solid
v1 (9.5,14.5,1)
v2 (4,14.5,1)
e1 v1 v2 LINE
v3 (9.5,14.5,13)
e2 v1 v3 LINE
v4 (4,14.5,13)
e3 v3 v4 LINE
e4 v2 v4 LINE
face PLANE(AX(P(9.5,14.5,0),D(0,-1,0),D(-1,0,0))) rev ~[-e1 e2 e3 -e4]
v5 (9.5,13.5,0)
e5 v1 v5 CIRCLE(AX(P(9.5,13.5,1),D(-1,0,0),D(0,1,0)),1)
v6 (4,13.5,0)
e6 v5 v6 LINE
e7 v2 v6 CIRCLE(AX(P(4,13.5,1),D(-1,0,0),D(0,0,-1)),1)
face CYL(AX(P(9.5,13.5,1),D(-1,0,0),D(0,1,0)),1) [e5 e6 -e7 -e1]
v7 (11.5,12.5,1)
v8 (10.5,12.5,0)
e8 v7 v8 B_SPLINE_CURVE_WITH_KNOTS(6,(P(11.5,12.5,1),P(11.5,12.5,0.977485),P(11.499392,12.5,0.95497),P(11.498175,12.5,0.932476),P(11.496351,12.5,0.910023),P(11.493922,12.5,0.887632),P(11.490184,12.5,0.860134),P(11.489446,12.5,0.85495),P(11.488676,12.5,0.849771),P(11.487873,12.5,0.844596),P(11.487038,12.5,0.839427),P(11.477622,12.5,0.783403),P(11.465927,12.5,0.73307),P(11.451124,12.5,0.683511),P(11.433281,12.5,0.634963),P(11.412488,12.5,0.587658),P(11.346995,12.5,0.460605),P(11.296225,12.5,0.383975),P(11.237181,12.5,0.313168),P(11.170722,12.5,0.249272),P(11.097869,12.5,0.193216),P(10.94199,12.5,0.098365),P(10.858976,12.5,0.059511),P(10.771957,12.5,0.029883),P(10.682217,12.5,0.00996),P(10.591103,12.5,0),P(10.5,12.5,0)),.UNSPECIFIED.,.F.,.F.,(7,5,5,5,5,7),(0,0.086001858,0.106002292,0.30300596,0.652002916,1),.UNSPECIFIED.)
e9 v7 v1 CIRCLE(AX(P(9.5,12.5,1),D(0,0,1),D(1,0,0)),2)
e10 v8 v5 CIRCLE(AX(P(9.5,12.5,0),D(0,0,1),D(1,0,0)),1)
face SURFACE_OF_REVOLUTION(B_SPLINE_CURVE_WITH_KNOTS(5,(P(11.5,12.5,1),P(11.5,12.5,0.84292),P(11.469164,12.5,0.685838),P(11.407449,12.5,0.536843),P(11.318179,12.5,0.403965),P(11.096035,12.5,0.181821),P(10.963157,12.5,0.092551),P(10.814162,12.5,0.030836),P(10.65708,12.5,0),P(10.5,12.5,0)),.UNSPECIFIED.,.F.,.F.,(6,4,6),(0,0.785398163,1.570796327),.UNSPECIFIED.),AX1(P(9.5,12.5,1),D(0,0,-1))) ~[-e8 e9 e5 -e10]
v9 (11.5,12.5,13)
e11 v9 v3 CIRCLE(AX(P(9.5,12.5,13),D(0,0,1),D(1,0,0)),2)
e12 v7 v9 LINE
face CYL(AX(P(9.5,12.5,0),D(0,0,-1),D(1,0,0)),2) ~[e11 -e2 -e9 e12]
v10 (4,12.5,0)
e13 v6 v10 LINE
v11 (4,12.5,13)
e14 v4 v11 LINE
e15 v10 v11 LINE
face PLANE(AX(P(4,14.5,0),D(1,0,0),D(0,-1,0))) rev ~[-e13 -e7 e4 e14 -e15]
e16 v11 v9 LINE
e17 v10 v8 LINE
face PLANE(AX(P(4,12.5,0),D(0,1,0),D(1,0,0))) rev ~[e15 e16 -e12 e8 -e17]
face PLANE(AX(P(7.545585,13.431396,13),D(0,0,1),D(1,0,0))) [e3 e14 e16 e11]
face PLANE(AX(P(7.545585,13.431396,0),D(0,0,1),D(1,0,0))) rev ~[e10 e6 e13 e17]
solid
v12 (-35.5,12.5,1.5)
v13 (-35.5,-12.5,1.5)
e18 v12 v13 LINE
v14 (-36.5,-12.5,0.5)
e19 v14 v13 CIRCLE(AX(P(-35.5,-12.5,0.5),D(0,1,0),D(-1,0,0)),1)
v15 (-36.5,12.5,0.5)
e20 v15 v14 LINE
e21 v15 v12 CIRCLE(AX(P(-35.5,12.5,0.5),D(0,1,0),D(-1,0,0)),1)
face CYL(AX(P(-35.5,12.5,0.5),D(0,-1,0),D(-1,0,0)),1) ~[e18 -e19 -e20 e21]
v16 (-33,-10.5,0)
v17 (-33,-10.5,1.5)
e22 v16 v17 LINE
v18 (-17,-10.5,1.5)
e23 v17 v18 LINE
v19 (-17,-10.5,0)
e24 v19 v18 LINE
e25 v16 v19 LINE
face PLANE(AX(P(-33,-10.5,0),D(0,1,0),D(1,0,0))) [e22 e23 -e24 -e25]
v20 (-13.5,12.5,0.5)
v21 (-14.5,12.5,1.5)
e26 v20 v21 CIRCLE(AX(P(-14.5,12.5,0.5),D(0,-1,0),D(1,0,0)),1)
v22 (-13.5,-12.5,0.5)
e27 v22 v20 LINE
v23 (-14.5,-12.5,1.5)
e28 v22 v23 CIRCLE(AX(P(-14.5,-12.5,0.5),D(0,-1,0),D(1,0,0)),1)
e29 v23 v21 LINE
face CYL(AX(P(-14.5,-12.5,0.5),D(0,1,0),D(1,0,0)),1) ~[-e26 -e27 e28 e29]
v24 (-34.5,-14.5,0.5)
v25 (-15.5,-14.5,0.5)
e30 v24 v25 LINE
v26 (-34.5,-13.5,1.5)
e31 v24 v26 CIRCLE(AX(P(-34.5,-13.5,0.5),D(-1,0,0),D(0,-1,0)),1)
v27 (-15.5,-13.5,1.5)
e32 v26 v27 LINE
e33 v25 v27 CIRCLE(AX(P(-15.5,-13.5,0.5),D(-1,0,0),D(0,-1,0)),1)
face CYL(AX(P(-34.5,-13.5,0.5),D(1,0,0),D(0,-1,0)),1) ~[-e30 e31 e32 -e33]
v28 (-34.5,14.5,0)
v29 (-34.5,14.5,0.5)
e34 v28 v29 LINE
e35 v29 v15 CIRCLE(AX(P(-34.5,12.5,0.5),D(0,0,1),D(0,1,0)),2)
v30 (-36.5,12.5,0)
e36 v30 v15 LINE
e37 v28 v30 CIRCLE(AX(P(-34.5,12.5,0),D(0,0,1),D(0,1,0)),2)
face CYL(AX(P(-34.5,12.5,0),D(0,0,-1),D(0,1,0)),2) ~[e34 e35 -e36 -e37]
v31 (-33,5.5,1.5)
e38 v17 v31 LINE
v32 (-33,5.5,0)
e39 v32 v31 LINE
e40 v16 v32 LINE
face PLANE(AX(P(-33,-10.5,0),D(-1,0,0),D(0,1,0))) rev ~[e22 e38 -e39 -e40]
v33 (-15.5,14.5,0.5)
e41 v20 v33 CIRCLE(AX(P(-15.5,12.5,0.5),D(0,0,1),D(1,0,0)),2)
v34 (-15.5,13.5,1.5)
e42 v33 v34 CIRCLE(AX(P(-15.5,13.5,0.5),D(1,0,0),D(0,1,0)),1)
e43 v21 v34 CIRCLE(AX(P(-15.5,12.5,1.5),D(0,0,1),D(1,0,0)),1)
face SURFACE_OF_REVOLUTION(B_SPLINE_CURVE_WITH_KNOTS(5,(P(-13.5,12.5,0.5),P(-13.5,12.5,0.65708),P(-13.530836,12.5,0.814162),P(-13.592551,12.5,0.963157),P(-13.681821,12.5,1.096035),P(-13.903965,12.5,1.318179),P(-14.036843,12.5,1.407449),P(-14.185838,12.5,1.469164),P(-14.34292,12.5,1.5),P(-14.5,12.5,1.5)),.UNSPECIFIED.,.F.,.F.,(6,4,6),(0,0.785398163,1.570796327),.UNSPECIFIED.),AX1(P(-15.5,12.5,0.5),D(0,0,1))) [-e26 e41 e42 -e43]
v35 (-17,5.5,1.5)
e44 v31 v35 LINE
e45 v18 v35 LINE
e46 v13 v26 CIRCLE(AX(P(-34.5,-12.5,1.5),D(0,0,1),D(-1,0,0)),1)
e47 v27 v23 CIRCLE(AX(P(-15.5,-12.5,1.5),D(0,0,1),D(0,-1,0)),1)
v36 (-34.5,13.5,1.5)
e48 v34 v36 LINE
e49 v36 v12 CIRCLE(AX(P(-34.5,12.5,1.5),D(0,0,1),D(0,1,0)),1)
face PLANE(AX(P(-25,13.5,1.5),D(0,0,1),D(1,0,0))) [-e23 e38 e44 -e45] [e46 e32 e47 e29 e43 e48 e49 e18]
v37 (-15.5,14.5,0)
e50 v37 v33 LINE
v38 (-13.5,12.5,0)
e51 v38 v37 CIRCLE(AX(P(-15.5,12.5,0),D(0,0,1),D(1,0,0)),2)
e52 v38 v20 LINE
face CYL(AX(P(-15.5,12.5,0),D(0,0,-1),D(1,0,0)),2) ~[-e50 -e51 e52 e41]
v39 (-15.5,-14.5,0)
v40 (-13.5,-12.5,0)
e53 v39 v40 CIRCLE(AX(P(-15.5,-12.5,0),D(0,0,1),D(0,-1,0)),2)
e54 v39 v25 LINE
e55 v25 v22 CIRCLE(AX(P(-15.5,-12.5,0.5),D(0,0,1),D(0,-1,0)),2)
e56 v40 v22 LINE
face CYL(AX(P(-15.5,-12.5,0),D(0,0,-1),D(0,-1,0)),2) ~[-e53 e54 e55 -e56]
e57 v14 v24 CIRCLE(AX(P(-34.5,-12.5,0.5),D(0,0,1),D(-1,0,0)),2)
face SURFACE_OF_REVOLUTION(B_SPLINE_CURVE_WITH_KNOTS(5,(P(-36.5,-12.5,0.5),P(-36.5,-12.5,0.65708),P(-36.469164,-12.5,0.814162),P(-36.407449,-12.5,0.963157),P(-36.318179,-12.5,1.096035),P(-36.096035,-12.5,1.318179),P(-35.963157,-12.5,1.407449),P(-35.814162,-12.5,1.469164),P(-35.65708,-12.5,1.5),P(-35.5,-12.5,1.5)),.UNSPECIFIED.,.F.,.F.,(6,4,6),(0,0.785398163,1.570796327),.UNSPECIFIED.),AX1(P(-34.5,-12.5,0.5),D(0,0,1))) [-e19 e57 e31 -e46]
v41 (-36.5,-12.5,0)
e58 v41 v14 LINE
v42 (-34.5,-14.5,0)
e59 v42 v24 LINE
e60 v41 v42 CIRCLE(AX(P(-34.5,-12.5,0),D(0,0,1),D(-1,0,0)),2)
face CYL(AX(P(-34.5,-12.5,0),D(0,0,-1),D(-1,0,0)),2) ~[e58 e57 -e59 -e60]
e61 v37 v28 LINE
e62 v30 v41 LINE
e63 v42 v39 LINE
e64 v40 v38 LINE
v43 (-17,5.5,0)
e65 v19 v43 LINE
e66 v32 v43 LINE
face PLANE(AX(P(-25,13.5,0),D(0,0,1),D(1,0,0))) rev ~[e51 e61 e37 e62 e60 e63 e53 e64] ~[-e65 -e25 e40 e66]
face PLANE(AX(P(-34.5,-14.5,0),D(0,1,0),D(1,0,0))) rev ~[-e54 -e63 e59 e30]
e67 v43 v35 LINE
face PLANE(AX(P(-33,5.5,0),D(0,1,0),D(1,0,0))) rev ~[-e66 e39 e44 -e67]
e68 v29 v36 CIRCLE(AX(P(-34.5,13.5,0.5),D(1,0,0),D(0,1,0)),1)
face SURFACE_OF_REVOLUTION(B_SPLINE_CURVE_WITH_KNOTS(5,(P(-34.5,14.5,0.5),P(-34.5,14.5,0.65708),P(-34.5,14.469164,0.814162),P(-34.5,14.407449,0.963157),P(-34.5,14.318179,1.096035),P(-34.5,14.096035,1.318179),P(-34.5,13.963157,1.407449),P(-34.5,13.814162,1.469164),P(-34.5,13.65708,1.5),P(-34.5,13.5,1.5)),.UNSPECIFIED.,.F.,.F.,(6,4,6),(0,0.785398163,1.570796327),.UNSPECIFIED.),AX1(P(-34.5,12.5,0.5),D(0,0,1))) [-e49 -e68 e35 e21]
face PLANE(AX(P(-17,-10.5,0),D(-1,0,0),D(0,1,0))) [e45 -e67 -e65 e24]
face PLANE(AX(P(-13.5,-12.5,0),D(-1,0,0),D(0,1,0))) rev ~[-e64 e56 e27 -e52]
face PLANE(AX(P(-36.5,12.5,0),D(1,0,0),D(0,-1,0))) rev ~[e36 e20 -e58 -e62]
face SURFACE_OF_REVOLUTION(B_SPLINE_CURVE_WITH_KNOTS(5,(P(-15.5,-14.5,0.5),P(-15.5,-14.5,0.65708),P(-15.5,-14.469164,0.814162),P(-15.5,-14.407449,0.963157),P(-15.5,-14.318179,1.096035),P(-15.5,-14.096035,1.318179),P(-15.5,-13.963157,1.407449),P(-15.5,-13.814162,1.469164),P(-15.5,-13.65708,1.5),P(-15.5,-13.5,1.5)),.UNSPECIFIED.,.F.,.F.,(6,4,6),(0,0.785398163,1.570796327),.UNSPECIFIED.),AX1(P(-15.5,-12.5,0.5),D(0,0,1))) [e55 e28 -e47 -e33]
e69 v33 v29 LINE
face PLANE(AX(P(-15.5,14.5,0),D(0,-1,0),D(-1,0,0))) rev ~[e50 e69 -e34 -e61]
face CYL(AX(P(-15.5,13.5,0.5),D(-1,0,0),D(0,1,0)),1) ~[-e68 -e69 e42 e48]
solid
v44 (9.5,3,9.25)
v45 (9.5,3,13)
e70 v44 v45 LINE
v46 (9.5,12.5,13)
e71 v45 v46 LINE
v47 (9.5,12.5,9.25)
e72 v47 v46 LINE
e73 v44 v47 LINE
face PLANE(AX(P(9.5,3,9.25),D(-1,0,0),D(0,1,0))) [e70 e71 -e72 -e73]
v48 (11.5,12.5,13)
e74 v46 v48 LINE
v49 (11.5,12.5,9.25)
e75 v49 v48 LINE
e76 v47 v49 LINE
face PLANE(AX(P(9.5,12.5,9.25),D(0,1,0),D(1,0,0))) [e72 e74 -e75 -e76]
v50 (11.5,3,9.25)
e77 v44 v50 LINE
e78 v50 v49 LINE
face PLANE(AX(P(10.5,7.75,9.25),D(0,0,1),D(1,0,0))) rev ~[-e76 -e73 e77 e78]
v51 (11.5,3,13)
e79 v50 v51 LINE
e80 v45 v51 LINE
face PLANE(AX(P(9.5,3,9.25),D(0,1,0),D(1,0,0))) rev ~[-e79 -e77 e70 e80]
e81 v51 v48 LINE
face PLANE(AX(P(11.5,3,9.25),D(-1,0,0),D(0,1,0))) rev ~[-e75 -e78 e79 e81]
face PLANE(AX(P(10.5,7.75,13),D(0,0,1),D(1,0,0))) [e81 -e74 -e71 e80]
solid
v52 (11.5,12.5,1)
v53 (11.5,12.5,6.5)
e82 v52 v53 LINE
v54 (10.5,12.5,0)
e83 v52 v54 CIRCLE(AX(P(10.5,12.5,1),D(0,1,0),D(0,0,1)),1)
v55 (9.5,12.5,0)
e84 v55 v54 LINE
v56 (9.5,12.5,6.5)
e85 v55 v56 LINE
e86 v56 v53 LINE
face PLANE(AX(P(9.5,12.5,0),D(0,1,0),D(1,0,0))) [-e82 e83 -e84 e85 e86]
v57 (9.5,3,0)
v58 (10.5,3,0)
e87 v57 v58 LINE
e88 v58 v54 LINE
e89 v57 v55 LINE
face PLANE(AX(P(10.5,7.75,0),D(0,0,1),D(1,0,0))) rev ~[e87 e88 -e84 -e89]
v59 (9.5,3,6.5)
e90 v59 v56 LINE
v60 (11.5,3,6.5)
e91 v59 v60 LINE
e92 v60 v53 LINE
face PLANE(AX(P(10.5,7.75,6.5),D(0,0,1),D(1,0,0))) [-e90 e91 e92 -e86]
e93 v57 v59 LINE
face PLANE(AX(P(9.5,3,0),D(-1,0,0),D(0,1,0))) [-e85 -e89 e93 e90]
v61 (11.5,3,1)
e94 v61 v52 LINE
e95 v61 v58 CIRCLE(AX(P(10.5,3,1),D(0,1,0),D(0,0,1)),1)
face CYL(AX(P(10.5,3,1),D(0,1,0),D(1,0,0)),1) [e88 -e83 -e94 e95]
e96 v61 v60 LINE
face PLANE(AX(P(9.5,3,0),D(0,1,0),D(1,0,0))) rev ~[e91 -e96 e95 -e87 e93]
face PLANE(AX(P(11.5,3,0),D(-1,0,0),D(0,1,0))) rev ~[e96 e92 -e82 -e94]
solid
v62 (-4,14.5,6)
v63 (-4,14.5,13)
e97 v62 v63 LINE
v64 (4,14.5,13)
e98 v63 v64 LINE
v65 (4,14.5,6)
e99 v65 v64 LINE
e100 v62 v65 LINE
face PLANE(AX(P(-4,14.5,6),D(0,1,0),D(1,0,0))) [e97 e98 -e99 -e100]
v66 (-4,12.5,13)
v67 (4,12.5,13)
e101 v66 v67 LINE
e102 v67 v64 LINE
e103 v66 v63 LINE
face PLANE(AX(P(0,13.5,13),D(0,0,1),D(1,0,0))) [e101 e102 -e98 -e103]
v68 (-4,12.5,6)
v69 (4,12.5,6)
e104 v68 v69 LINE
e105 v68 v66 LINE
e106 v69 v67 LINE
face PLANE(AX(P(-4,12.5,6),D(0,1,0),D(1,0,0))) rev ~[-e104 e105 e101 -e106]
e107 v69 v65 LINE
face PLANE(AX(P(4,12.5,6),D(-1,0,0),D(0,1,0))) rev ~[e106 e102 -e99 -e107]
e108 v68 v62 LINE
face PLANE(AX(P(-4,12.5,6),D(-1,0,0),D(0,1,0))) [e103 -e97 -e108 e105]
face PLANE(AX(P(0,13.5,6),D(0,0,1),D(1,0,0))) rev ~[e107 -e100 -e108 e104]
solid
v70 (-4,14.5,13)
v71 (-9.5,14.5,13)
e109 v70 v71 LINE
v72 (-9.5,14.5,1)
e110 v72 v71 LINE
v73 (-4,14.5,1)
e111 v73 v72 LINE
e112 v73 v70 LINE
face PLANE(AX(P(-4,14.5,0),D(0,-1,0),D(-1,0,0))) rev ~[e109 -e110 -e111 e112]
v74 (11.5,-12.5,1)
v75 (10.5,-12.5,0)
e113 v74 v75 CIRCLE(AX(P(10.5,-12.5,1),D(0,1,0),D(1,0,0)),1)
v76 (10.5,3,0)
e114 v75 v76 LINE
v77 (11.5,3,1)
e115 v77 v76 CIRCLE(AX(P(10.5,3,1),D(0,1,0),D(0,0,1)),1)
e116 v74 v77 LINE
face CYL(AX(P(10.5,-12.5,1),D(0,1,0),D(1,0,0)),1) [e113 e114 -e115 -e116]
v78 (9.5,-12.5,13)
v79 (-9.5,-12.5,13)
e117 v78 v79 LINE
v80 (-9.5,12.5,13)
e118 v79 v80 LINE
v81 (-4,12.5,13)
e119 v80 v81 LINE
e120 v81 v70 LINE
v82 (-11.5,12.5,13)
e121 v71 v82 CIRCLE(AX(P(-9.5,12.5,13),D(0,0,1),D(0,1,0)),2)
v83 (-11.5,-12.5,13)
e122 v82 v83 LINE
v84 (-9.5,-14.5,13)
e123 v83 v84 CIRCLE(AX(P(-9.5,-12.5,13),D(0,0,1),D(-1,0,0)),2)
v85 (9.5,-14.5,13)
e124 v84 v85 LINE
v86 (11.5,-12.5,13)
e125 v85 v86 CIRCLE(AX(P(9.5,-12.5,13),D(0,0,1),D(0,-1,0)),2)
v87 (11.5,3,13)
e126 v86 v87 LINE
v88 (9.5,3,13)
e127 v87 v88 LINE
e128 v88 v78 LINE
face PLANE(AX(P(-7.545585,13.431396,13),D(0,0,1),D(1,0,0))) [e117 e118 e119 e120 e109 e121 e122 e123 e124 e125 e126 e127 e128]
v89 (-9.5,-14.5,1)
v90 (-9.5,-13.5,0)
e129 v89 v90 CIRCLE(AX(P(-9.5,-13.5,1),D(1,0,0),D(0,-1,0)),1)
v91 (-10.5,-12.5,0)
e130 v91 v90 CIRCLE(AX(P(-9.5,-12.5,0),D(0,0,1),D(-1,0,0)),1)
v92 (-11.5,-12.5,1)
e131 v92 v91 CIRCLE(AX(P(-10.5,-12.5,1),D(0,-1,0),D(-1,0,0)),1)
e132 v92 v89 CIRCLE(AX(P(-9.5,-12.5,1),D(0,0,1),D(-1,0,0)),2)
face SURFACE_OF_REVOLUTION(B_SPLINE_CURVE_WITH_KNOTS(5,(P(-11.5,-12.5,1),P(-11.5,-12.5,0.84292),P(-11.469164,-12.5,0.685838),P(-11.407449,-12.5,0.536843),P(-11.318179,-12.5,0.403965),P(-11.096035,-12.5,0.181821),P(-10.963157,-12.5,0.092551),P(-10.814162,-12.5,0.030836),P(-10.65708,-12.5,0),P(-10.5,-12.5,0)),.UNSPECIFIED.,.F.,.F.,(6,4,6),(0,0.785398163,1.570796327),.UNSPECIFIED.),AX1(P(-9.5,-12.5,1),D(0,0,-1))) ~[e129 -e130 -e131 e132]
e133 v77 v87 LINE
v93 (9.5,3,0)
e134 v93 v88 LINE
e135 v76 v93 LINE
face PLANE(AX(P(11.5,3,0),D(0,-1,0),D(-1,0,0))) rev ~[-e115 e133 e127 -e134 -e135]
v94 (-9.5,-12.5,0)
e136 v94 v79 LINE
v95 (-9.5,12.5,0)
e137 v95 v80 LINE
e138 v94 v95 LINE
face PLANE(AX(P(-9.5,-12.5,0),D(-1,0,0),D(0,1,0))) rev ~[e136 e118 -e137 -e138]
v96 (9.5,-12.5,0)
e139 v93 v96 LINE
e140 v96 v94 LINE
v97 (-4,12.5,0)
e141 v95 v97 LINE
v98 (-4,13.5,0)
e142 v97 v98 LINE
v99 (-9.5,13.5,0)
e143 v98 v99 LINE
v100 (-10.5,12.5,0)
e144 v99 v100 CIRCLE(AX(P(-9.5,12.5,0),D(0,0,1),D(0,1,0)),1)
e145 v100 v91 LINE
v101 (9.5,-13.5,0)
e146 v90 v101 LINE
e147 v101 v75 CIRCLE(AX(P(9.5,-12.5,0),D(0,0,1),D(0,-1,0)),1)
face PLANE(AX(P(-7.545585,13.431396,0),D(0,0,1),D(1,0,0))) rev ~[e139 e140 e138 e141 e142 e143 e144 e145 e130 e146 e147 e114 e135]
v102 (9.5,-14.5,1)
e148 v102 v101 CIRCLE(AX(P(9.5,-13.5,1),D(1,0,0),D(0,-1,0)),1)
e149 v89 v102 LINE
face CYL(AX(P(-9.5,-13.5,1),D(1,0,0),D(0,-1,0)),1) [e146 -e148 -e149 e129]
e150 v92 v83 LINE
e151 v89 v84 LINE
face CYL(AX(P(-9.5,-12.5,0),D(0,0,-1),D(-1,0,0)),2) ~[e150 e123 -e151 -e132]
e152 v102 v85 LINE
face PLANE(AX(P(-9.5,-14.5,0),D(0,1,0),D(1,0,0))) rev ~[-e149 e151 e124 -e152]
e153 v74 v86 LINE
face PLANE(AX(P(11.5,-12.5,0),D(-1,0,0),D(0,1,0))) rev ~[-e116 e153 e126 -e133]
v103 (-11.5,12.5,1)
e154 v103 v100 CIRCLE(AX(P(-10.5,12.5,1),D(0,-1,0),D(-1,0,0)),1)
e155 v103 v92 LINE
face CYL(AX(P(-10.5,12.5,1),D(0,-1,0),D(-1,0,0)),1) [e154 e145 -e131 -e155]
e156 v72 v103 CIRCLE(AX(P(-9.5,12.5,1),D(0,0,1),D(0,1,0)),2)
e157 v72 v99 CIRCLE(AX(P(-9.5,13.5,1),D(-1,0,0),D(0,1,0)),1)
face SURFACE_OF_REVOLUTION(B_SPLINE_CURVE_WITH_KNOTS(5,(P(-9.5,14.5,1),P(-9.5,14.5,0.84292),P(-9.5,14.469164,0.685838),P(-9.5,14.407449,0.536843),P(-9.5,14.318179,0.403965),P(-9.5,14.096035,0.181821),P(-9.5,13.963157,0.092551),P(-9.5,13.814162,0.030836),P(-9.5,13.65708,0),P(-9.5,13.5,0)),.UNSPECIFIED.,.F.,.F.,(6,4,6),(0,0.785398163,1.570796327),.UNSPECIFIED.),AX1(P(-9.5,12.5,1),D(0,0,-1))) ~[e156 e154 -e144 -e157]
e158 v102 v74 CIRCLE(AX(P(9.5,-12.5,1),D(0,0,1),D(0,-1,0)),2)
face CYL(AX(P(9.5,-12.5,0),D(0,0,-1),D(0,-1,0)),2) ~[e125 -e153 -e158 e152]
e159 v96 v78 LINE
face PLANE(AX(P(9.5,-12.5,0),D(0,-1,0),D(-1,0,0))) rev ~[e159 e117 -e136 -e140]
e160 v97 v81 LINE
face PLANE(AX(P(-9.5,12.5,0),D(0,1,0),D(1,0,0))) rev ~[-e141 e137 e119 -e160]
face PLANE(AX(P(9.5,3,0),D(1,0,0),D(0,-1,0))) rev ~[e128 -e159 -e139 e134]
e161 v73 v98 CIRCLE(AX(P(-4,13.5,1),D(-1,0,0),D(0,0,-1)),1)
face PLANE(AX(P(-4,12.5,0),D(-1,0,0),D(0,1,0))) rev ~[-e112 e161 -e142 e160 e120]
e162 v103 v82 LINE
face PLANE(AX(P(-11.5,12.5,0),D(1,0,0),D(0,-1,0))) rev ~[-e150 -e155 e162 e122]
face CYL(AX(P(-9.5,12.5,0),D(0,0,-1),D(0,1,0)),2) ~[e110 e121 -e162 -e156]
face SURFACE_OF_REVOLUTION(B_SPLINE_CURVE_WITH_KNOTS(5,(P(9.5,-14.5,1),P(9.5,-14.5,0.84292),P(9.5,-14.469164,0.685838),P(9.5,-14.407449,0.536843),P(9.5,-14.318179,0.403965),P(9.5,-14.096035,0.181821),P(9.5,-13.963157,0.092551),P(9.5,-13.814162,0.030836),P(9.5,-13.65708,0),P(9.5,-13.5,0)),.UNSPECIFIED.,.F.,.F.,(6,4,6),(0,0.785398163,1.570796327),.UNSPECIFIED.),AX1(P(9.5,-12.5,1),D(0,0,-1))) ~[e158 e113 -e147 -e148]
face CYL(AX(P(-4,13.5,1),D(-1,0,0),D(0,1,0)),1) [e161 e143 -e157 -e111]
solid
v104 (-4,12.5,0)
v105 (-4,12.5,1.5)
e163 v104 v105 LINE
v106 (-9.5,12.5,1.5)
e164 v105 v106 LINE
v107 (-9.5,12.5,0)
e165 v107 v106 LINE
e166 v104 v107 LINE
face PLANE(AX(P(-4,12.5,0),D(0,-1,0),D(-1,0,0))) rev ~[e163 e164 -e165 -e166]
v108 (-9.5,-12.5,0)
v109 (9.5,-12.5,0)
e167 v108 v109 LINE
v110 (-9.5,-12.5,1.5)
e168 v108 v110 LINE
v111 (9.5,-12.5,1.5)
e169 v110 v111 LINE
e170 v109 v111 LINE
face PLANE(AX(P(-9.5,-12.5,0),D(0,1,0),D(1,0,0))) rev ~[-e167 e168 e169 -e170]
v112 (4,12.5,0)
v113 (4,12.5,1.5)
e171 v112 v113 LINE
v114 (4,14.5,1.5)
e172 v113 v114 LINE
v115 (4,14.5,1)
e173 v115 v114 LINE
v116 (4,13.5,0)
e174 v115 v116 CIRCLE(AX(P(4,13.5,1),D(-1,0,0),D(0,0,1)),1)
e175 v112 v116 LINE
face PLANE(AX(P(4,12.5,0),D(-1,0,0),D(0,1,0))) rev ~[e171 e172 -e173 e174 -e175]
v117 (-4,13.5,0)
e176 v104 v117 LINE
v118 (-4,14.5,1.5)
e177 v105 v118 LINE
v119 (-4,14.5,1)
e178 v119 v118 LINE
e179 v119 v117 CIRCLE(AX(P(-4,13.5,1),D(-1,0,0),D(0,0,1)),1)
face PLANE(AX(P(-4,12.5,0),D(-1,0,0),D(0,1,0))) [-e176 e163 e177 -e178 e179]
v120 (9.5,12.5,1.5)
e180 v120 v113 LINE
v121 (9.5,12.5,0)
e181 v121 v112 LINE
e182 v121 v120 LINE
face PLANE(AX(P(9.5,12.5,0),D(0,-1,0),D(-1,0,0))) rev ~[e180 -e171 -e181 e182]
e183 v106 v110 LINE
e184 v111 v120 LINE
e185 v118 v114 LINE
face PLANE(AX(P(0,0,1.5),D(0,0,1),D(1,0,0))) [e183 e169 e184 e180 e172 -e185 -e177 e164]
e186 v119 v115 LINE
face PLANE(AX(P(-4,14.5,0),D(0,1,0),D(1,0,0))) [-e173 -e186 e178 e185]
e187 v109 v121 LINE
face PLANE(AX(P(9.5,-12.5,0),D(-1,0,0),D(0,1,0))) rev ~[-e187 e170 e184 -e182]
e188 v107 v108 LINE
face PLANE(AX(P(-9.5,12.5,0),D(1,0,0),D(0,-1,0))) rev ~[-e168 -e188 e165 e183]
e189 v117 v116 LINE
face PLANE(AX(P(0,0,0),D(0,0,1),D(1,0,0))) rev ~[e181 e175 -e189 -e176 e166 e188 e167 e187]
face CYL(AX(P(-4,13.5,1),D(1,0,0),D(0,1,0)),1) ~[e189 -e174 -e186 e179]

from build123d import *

# Parameters (mm, degrees)
F0_W      = 2
F0_H      = 9.5
F0_W_2    = 15
F0_H_2    = 2
F2_DEPTH  = 13
F3_W      = 8
F3_H      = 2
F4_DEPTH  = 1.5
F5_W      = 2
F5_H      = 9.5
F6_DEPTH  = 6.5
F8_START  = 6
F7_W      = 8
F7_H      = 2
F8_DEPTH  = 7
F10_START = 9.25
F9_W      = 2
F9_H      = 9.5
F10_DEPTH = 3.75
F11_R     = 1
F11_2_R   = 1
F11_3_R   = 1
F11_4_R   = 1
F1_W      = 8
F1_H      = 2
F1_W_2    = 2
F1_H_2    = 9.5
F1_W_3    = 15
F1_W_4    = 16
F1_H_3    = 16
F12_DEPTH = 1.5
F13_R     = 1


with BuildPart() as f2:
    # F0 (on Top) → F2 (new body)
    with BuildSketch(Plane.XY):
        with BuildLine():
            Line((-9.5, 12.5), (-4, 12.5))
            Line((-4, 12.5), (-4, 14.5))
            Line((-4, 14.5), (-9.5, 14.5))
            ThreePointArc((-9.5, 14.5), (-10.9142135624, 13.9142135624), (-11.5, 12.5))
            Line((-11.5, 12.5), (-9.5, 12.5))
        make_face()
        with Locations((-10.5, 7.75)):
            Rectangle(F0_W, F0_H)
        with BuildLine():
            Line((-7.5, -14.5), (-7.5, -12.5))
            Line((-7.5, -12.5), (-9.5, -12.5))
            Line((-9.5, -12.5), (-9.5, 3))
            Line((-9.5, 3), (-11.5, 3))
            Line((-11.5, 3), (-11.5, -12.5))
            ThreePointArc((-11.5, -12.5), (-10.9142135624, -13.9142135624), (-9.5, -14.5))
            Line((-9.5, -14.5), (-7.5, -14.5))
        make_face()
        with Locations((0, -13.5)):
            Rectangle(F0_W_2, F0_H_2)
        with BuildLine():
            Line((9.5, 3), (9.5, -12.5))
            Line((9.5, -12.5), (7.5, -12.5))
            Line((7.5, -12.5), (7.5, -14.5))
            Line((7.5, -14.5), (9.5, -14.5))
            ThreePointArc((9.5, -14.5), (10.9142135624, -13.9142135624), (11.5, -12.5))
            Line((11.5, -12.5), (11.5, 3))
            Line((11.5, 3), (9.5, 3))
        make_face()
    extrude(amount=F2_DEPTH)

    # F11
    f11_edges = [f2.edges().sort_by_distance(p)[0] for p in [
        (0, -14.5, 0),
    ]]
    fillet(f11_edges, radius=F11_R)


with BuildPart() as f2b:
    # F0 (on Top) → F2, piece 2 (new body)
    with BuildSketch(Plane.XY):
        with BuildLine():
            Line((4, 12.5), (9.5, 12.5))
            Line((9.5, 12.5), (11.5, 12.5))
            ThreePointArc((11.5, 12.5), (10.9142135624, 13.9142135624), (9.5, 14.5))
            Line((9.5, 14.5), (4, 14.5))
            Line((4, 14.5), (4, 12.5))
        make_face()
    extrude(amount=F2_DEPTH)

    # F11#2
    f11_2_edges = [f2b.edges().sort_by_distance(p)[0] for p in [
        (6.75, 14.5, 0),
    ]]
    fillet(f11_2_edges, radius=F11_2_R)


with BuildPart() as f4:
    # F3 (on Top) → F4 (new body)
    with BuildSketch(Plane.XY):
        Polygon((7.5, -12.5), (9.5, -12.5), (9.5, 12.5), (4, 12.5), (-4, 12.5), (-9.5, 12.5), (-9.5, 3), (-9.5, -12.5), (-7.5, -12.5), align=None)
        with Locations((0, 13.5)):
            Rectangle(F3_W, F3_H)
    extrude(amount=F4_DEPTH)

    # F11#4
    f11_4_edges = [f4.edges().sort_by_distance(p)[0] for p in [
        (0, 14.5, 0),
    ]]
    fillet(f11_4_edges, radius=F11_4_R)


with BuildPart() as f6:
    # F5 (on Top) → F6 (new body)
    with BuildSketch(Plane.XY):
        with Locations((10.5, 7.75)):
            Rectangle(F5_W, F5_H)
    extrude(amount=F6_DEPTH)

    # F11#3
    f11_3_edges = [f6.edges().sort_by_distance(p)[0] for p in [
        (11.5, 7.75, 0),
    ]]
    fillet(f11_3_edges, radius=F11_3_R)


with BuildPart() as f8:
    # F7 (on Top) → F8 (new body)
    with BuildSketch(Plane.XY.offset(F8_START)):
        with Locations((0, 13.5)):
            Rectangle(F7_W, F7_H)
    extrude(amount=F8_DEPTH)


with BuildPart() as f10:
    # F9 (on Top) → F10 (new body)
    with BuildSketch(Plane.XY.offset(F10_START)):
        with Locations((10.5, 7.75)):
            Rectangle(F9_W, F9_H)
    extrude(amount=F10_DEPTH)


with BuildPart() as f12:
    # F1 (on Top) → F12 (new body)
    with BuildSketch(Plane.XY):
        with Locations((-25, 13.5)):
            Rectangle(F1_W, F1_H)
        with BuildLine():
            Line((-34.5, 12.5), (-29, 12.5))
            Line((-29, 12.5), (-29, 14.5))
            Line((-29, 14.5), (-34.5, 14.5))
            ThreePointArc((-34.5, 14.5), (-35.9142135624, 13.9142135624), (-36.5, 12.5))
            Line((-36.5, 12.5), (-34.5, 12.5))
        make_face()
        with Locations((-35.5, 7.75)):
            Rectangle(F1_W_2, F1_H_2)
        with BuildLine():
            Line((-32.5, -14.5), (-32.5, -12.5))
            Line((-32.5, -12.5), (-34.5, -12.5))
            Line((-34.5, -12.5), (-34.5, 3))
            Line((-34.5, 3), (-36.5, 3))
            Line((-36.5, 3), (-36.5, -12.5))
            ThreePointArc((-36.5, -12.5), (-35.9142135624, -13.9142135624), (-34.5, -14.5))
            Line((-34.5, -14.5), (-32.5, -14.5))
        make_face()
        with Locations((-25, -13.5)):
            Rectangle(F1_W_3, F1_H)
        with BuildLine():
            Line((-15.5, 3), (-15.5, -12.5))
            Line((-15.5, -12.5), (-17.5, -12.5))
            Line((-17.5, -12.5), (-17.5, -14.5))
            Line((-17.5, -14.5), (-15.5, -14.5))
            ThreePointArc((-15.5, -14.5), (-14.0857864376, -13.9142135624), (-13.5, -12.5))
            Line((-13.5, -12.5), (-13.5, 3))
            Line((-13.5, 3), (-15.5, 3))
        make_face()
        with Locations((-14.5, 7.75)):
            Rectangle(F1_W_2, F1_H_2)
        with BuildLine():
            Line((-21, 12.5), (-15.5, 12.5))
            Line((-15.5, 12.5), (-13.5, 12.5))
            ThreePointArc((-13.5, 12.5), (-14.0857864376, 13.9142135624), (-15.5, 14.5))
            Line((-15.5, 14.5), (-21, 14.5))
            Line((-21, 14.5), (-21, 12.5))
        make_face()
        Polygon((-17.5, -12.5), (-15.5, -12.5), (-15.5, 3), (-15.5, 12.5), (-21, 12.5), (-29, 12.5), (-34.5, 12.5), (-34.5, 3), (-34.5, -12.5), (-32.5, -12.5), align=None)
        with Locations((-25, -2.5)):
            Rectangle(F1_W_4, F1_H_3, mode=Mode.SUBTRACT)
    extrude(amount=F12_DEPTH)

    # F13
    f13_edges = [f12.edges().sort_by_distance(p)[0] for p in [
        (-36.5, 0, 1.5),
    ]]
    fillet(f13_edges, radius=F13_R)


solid = Compound([f2.part, f2b.part, f4.part, f6.part, f8.part, f10.part, f12.part])
